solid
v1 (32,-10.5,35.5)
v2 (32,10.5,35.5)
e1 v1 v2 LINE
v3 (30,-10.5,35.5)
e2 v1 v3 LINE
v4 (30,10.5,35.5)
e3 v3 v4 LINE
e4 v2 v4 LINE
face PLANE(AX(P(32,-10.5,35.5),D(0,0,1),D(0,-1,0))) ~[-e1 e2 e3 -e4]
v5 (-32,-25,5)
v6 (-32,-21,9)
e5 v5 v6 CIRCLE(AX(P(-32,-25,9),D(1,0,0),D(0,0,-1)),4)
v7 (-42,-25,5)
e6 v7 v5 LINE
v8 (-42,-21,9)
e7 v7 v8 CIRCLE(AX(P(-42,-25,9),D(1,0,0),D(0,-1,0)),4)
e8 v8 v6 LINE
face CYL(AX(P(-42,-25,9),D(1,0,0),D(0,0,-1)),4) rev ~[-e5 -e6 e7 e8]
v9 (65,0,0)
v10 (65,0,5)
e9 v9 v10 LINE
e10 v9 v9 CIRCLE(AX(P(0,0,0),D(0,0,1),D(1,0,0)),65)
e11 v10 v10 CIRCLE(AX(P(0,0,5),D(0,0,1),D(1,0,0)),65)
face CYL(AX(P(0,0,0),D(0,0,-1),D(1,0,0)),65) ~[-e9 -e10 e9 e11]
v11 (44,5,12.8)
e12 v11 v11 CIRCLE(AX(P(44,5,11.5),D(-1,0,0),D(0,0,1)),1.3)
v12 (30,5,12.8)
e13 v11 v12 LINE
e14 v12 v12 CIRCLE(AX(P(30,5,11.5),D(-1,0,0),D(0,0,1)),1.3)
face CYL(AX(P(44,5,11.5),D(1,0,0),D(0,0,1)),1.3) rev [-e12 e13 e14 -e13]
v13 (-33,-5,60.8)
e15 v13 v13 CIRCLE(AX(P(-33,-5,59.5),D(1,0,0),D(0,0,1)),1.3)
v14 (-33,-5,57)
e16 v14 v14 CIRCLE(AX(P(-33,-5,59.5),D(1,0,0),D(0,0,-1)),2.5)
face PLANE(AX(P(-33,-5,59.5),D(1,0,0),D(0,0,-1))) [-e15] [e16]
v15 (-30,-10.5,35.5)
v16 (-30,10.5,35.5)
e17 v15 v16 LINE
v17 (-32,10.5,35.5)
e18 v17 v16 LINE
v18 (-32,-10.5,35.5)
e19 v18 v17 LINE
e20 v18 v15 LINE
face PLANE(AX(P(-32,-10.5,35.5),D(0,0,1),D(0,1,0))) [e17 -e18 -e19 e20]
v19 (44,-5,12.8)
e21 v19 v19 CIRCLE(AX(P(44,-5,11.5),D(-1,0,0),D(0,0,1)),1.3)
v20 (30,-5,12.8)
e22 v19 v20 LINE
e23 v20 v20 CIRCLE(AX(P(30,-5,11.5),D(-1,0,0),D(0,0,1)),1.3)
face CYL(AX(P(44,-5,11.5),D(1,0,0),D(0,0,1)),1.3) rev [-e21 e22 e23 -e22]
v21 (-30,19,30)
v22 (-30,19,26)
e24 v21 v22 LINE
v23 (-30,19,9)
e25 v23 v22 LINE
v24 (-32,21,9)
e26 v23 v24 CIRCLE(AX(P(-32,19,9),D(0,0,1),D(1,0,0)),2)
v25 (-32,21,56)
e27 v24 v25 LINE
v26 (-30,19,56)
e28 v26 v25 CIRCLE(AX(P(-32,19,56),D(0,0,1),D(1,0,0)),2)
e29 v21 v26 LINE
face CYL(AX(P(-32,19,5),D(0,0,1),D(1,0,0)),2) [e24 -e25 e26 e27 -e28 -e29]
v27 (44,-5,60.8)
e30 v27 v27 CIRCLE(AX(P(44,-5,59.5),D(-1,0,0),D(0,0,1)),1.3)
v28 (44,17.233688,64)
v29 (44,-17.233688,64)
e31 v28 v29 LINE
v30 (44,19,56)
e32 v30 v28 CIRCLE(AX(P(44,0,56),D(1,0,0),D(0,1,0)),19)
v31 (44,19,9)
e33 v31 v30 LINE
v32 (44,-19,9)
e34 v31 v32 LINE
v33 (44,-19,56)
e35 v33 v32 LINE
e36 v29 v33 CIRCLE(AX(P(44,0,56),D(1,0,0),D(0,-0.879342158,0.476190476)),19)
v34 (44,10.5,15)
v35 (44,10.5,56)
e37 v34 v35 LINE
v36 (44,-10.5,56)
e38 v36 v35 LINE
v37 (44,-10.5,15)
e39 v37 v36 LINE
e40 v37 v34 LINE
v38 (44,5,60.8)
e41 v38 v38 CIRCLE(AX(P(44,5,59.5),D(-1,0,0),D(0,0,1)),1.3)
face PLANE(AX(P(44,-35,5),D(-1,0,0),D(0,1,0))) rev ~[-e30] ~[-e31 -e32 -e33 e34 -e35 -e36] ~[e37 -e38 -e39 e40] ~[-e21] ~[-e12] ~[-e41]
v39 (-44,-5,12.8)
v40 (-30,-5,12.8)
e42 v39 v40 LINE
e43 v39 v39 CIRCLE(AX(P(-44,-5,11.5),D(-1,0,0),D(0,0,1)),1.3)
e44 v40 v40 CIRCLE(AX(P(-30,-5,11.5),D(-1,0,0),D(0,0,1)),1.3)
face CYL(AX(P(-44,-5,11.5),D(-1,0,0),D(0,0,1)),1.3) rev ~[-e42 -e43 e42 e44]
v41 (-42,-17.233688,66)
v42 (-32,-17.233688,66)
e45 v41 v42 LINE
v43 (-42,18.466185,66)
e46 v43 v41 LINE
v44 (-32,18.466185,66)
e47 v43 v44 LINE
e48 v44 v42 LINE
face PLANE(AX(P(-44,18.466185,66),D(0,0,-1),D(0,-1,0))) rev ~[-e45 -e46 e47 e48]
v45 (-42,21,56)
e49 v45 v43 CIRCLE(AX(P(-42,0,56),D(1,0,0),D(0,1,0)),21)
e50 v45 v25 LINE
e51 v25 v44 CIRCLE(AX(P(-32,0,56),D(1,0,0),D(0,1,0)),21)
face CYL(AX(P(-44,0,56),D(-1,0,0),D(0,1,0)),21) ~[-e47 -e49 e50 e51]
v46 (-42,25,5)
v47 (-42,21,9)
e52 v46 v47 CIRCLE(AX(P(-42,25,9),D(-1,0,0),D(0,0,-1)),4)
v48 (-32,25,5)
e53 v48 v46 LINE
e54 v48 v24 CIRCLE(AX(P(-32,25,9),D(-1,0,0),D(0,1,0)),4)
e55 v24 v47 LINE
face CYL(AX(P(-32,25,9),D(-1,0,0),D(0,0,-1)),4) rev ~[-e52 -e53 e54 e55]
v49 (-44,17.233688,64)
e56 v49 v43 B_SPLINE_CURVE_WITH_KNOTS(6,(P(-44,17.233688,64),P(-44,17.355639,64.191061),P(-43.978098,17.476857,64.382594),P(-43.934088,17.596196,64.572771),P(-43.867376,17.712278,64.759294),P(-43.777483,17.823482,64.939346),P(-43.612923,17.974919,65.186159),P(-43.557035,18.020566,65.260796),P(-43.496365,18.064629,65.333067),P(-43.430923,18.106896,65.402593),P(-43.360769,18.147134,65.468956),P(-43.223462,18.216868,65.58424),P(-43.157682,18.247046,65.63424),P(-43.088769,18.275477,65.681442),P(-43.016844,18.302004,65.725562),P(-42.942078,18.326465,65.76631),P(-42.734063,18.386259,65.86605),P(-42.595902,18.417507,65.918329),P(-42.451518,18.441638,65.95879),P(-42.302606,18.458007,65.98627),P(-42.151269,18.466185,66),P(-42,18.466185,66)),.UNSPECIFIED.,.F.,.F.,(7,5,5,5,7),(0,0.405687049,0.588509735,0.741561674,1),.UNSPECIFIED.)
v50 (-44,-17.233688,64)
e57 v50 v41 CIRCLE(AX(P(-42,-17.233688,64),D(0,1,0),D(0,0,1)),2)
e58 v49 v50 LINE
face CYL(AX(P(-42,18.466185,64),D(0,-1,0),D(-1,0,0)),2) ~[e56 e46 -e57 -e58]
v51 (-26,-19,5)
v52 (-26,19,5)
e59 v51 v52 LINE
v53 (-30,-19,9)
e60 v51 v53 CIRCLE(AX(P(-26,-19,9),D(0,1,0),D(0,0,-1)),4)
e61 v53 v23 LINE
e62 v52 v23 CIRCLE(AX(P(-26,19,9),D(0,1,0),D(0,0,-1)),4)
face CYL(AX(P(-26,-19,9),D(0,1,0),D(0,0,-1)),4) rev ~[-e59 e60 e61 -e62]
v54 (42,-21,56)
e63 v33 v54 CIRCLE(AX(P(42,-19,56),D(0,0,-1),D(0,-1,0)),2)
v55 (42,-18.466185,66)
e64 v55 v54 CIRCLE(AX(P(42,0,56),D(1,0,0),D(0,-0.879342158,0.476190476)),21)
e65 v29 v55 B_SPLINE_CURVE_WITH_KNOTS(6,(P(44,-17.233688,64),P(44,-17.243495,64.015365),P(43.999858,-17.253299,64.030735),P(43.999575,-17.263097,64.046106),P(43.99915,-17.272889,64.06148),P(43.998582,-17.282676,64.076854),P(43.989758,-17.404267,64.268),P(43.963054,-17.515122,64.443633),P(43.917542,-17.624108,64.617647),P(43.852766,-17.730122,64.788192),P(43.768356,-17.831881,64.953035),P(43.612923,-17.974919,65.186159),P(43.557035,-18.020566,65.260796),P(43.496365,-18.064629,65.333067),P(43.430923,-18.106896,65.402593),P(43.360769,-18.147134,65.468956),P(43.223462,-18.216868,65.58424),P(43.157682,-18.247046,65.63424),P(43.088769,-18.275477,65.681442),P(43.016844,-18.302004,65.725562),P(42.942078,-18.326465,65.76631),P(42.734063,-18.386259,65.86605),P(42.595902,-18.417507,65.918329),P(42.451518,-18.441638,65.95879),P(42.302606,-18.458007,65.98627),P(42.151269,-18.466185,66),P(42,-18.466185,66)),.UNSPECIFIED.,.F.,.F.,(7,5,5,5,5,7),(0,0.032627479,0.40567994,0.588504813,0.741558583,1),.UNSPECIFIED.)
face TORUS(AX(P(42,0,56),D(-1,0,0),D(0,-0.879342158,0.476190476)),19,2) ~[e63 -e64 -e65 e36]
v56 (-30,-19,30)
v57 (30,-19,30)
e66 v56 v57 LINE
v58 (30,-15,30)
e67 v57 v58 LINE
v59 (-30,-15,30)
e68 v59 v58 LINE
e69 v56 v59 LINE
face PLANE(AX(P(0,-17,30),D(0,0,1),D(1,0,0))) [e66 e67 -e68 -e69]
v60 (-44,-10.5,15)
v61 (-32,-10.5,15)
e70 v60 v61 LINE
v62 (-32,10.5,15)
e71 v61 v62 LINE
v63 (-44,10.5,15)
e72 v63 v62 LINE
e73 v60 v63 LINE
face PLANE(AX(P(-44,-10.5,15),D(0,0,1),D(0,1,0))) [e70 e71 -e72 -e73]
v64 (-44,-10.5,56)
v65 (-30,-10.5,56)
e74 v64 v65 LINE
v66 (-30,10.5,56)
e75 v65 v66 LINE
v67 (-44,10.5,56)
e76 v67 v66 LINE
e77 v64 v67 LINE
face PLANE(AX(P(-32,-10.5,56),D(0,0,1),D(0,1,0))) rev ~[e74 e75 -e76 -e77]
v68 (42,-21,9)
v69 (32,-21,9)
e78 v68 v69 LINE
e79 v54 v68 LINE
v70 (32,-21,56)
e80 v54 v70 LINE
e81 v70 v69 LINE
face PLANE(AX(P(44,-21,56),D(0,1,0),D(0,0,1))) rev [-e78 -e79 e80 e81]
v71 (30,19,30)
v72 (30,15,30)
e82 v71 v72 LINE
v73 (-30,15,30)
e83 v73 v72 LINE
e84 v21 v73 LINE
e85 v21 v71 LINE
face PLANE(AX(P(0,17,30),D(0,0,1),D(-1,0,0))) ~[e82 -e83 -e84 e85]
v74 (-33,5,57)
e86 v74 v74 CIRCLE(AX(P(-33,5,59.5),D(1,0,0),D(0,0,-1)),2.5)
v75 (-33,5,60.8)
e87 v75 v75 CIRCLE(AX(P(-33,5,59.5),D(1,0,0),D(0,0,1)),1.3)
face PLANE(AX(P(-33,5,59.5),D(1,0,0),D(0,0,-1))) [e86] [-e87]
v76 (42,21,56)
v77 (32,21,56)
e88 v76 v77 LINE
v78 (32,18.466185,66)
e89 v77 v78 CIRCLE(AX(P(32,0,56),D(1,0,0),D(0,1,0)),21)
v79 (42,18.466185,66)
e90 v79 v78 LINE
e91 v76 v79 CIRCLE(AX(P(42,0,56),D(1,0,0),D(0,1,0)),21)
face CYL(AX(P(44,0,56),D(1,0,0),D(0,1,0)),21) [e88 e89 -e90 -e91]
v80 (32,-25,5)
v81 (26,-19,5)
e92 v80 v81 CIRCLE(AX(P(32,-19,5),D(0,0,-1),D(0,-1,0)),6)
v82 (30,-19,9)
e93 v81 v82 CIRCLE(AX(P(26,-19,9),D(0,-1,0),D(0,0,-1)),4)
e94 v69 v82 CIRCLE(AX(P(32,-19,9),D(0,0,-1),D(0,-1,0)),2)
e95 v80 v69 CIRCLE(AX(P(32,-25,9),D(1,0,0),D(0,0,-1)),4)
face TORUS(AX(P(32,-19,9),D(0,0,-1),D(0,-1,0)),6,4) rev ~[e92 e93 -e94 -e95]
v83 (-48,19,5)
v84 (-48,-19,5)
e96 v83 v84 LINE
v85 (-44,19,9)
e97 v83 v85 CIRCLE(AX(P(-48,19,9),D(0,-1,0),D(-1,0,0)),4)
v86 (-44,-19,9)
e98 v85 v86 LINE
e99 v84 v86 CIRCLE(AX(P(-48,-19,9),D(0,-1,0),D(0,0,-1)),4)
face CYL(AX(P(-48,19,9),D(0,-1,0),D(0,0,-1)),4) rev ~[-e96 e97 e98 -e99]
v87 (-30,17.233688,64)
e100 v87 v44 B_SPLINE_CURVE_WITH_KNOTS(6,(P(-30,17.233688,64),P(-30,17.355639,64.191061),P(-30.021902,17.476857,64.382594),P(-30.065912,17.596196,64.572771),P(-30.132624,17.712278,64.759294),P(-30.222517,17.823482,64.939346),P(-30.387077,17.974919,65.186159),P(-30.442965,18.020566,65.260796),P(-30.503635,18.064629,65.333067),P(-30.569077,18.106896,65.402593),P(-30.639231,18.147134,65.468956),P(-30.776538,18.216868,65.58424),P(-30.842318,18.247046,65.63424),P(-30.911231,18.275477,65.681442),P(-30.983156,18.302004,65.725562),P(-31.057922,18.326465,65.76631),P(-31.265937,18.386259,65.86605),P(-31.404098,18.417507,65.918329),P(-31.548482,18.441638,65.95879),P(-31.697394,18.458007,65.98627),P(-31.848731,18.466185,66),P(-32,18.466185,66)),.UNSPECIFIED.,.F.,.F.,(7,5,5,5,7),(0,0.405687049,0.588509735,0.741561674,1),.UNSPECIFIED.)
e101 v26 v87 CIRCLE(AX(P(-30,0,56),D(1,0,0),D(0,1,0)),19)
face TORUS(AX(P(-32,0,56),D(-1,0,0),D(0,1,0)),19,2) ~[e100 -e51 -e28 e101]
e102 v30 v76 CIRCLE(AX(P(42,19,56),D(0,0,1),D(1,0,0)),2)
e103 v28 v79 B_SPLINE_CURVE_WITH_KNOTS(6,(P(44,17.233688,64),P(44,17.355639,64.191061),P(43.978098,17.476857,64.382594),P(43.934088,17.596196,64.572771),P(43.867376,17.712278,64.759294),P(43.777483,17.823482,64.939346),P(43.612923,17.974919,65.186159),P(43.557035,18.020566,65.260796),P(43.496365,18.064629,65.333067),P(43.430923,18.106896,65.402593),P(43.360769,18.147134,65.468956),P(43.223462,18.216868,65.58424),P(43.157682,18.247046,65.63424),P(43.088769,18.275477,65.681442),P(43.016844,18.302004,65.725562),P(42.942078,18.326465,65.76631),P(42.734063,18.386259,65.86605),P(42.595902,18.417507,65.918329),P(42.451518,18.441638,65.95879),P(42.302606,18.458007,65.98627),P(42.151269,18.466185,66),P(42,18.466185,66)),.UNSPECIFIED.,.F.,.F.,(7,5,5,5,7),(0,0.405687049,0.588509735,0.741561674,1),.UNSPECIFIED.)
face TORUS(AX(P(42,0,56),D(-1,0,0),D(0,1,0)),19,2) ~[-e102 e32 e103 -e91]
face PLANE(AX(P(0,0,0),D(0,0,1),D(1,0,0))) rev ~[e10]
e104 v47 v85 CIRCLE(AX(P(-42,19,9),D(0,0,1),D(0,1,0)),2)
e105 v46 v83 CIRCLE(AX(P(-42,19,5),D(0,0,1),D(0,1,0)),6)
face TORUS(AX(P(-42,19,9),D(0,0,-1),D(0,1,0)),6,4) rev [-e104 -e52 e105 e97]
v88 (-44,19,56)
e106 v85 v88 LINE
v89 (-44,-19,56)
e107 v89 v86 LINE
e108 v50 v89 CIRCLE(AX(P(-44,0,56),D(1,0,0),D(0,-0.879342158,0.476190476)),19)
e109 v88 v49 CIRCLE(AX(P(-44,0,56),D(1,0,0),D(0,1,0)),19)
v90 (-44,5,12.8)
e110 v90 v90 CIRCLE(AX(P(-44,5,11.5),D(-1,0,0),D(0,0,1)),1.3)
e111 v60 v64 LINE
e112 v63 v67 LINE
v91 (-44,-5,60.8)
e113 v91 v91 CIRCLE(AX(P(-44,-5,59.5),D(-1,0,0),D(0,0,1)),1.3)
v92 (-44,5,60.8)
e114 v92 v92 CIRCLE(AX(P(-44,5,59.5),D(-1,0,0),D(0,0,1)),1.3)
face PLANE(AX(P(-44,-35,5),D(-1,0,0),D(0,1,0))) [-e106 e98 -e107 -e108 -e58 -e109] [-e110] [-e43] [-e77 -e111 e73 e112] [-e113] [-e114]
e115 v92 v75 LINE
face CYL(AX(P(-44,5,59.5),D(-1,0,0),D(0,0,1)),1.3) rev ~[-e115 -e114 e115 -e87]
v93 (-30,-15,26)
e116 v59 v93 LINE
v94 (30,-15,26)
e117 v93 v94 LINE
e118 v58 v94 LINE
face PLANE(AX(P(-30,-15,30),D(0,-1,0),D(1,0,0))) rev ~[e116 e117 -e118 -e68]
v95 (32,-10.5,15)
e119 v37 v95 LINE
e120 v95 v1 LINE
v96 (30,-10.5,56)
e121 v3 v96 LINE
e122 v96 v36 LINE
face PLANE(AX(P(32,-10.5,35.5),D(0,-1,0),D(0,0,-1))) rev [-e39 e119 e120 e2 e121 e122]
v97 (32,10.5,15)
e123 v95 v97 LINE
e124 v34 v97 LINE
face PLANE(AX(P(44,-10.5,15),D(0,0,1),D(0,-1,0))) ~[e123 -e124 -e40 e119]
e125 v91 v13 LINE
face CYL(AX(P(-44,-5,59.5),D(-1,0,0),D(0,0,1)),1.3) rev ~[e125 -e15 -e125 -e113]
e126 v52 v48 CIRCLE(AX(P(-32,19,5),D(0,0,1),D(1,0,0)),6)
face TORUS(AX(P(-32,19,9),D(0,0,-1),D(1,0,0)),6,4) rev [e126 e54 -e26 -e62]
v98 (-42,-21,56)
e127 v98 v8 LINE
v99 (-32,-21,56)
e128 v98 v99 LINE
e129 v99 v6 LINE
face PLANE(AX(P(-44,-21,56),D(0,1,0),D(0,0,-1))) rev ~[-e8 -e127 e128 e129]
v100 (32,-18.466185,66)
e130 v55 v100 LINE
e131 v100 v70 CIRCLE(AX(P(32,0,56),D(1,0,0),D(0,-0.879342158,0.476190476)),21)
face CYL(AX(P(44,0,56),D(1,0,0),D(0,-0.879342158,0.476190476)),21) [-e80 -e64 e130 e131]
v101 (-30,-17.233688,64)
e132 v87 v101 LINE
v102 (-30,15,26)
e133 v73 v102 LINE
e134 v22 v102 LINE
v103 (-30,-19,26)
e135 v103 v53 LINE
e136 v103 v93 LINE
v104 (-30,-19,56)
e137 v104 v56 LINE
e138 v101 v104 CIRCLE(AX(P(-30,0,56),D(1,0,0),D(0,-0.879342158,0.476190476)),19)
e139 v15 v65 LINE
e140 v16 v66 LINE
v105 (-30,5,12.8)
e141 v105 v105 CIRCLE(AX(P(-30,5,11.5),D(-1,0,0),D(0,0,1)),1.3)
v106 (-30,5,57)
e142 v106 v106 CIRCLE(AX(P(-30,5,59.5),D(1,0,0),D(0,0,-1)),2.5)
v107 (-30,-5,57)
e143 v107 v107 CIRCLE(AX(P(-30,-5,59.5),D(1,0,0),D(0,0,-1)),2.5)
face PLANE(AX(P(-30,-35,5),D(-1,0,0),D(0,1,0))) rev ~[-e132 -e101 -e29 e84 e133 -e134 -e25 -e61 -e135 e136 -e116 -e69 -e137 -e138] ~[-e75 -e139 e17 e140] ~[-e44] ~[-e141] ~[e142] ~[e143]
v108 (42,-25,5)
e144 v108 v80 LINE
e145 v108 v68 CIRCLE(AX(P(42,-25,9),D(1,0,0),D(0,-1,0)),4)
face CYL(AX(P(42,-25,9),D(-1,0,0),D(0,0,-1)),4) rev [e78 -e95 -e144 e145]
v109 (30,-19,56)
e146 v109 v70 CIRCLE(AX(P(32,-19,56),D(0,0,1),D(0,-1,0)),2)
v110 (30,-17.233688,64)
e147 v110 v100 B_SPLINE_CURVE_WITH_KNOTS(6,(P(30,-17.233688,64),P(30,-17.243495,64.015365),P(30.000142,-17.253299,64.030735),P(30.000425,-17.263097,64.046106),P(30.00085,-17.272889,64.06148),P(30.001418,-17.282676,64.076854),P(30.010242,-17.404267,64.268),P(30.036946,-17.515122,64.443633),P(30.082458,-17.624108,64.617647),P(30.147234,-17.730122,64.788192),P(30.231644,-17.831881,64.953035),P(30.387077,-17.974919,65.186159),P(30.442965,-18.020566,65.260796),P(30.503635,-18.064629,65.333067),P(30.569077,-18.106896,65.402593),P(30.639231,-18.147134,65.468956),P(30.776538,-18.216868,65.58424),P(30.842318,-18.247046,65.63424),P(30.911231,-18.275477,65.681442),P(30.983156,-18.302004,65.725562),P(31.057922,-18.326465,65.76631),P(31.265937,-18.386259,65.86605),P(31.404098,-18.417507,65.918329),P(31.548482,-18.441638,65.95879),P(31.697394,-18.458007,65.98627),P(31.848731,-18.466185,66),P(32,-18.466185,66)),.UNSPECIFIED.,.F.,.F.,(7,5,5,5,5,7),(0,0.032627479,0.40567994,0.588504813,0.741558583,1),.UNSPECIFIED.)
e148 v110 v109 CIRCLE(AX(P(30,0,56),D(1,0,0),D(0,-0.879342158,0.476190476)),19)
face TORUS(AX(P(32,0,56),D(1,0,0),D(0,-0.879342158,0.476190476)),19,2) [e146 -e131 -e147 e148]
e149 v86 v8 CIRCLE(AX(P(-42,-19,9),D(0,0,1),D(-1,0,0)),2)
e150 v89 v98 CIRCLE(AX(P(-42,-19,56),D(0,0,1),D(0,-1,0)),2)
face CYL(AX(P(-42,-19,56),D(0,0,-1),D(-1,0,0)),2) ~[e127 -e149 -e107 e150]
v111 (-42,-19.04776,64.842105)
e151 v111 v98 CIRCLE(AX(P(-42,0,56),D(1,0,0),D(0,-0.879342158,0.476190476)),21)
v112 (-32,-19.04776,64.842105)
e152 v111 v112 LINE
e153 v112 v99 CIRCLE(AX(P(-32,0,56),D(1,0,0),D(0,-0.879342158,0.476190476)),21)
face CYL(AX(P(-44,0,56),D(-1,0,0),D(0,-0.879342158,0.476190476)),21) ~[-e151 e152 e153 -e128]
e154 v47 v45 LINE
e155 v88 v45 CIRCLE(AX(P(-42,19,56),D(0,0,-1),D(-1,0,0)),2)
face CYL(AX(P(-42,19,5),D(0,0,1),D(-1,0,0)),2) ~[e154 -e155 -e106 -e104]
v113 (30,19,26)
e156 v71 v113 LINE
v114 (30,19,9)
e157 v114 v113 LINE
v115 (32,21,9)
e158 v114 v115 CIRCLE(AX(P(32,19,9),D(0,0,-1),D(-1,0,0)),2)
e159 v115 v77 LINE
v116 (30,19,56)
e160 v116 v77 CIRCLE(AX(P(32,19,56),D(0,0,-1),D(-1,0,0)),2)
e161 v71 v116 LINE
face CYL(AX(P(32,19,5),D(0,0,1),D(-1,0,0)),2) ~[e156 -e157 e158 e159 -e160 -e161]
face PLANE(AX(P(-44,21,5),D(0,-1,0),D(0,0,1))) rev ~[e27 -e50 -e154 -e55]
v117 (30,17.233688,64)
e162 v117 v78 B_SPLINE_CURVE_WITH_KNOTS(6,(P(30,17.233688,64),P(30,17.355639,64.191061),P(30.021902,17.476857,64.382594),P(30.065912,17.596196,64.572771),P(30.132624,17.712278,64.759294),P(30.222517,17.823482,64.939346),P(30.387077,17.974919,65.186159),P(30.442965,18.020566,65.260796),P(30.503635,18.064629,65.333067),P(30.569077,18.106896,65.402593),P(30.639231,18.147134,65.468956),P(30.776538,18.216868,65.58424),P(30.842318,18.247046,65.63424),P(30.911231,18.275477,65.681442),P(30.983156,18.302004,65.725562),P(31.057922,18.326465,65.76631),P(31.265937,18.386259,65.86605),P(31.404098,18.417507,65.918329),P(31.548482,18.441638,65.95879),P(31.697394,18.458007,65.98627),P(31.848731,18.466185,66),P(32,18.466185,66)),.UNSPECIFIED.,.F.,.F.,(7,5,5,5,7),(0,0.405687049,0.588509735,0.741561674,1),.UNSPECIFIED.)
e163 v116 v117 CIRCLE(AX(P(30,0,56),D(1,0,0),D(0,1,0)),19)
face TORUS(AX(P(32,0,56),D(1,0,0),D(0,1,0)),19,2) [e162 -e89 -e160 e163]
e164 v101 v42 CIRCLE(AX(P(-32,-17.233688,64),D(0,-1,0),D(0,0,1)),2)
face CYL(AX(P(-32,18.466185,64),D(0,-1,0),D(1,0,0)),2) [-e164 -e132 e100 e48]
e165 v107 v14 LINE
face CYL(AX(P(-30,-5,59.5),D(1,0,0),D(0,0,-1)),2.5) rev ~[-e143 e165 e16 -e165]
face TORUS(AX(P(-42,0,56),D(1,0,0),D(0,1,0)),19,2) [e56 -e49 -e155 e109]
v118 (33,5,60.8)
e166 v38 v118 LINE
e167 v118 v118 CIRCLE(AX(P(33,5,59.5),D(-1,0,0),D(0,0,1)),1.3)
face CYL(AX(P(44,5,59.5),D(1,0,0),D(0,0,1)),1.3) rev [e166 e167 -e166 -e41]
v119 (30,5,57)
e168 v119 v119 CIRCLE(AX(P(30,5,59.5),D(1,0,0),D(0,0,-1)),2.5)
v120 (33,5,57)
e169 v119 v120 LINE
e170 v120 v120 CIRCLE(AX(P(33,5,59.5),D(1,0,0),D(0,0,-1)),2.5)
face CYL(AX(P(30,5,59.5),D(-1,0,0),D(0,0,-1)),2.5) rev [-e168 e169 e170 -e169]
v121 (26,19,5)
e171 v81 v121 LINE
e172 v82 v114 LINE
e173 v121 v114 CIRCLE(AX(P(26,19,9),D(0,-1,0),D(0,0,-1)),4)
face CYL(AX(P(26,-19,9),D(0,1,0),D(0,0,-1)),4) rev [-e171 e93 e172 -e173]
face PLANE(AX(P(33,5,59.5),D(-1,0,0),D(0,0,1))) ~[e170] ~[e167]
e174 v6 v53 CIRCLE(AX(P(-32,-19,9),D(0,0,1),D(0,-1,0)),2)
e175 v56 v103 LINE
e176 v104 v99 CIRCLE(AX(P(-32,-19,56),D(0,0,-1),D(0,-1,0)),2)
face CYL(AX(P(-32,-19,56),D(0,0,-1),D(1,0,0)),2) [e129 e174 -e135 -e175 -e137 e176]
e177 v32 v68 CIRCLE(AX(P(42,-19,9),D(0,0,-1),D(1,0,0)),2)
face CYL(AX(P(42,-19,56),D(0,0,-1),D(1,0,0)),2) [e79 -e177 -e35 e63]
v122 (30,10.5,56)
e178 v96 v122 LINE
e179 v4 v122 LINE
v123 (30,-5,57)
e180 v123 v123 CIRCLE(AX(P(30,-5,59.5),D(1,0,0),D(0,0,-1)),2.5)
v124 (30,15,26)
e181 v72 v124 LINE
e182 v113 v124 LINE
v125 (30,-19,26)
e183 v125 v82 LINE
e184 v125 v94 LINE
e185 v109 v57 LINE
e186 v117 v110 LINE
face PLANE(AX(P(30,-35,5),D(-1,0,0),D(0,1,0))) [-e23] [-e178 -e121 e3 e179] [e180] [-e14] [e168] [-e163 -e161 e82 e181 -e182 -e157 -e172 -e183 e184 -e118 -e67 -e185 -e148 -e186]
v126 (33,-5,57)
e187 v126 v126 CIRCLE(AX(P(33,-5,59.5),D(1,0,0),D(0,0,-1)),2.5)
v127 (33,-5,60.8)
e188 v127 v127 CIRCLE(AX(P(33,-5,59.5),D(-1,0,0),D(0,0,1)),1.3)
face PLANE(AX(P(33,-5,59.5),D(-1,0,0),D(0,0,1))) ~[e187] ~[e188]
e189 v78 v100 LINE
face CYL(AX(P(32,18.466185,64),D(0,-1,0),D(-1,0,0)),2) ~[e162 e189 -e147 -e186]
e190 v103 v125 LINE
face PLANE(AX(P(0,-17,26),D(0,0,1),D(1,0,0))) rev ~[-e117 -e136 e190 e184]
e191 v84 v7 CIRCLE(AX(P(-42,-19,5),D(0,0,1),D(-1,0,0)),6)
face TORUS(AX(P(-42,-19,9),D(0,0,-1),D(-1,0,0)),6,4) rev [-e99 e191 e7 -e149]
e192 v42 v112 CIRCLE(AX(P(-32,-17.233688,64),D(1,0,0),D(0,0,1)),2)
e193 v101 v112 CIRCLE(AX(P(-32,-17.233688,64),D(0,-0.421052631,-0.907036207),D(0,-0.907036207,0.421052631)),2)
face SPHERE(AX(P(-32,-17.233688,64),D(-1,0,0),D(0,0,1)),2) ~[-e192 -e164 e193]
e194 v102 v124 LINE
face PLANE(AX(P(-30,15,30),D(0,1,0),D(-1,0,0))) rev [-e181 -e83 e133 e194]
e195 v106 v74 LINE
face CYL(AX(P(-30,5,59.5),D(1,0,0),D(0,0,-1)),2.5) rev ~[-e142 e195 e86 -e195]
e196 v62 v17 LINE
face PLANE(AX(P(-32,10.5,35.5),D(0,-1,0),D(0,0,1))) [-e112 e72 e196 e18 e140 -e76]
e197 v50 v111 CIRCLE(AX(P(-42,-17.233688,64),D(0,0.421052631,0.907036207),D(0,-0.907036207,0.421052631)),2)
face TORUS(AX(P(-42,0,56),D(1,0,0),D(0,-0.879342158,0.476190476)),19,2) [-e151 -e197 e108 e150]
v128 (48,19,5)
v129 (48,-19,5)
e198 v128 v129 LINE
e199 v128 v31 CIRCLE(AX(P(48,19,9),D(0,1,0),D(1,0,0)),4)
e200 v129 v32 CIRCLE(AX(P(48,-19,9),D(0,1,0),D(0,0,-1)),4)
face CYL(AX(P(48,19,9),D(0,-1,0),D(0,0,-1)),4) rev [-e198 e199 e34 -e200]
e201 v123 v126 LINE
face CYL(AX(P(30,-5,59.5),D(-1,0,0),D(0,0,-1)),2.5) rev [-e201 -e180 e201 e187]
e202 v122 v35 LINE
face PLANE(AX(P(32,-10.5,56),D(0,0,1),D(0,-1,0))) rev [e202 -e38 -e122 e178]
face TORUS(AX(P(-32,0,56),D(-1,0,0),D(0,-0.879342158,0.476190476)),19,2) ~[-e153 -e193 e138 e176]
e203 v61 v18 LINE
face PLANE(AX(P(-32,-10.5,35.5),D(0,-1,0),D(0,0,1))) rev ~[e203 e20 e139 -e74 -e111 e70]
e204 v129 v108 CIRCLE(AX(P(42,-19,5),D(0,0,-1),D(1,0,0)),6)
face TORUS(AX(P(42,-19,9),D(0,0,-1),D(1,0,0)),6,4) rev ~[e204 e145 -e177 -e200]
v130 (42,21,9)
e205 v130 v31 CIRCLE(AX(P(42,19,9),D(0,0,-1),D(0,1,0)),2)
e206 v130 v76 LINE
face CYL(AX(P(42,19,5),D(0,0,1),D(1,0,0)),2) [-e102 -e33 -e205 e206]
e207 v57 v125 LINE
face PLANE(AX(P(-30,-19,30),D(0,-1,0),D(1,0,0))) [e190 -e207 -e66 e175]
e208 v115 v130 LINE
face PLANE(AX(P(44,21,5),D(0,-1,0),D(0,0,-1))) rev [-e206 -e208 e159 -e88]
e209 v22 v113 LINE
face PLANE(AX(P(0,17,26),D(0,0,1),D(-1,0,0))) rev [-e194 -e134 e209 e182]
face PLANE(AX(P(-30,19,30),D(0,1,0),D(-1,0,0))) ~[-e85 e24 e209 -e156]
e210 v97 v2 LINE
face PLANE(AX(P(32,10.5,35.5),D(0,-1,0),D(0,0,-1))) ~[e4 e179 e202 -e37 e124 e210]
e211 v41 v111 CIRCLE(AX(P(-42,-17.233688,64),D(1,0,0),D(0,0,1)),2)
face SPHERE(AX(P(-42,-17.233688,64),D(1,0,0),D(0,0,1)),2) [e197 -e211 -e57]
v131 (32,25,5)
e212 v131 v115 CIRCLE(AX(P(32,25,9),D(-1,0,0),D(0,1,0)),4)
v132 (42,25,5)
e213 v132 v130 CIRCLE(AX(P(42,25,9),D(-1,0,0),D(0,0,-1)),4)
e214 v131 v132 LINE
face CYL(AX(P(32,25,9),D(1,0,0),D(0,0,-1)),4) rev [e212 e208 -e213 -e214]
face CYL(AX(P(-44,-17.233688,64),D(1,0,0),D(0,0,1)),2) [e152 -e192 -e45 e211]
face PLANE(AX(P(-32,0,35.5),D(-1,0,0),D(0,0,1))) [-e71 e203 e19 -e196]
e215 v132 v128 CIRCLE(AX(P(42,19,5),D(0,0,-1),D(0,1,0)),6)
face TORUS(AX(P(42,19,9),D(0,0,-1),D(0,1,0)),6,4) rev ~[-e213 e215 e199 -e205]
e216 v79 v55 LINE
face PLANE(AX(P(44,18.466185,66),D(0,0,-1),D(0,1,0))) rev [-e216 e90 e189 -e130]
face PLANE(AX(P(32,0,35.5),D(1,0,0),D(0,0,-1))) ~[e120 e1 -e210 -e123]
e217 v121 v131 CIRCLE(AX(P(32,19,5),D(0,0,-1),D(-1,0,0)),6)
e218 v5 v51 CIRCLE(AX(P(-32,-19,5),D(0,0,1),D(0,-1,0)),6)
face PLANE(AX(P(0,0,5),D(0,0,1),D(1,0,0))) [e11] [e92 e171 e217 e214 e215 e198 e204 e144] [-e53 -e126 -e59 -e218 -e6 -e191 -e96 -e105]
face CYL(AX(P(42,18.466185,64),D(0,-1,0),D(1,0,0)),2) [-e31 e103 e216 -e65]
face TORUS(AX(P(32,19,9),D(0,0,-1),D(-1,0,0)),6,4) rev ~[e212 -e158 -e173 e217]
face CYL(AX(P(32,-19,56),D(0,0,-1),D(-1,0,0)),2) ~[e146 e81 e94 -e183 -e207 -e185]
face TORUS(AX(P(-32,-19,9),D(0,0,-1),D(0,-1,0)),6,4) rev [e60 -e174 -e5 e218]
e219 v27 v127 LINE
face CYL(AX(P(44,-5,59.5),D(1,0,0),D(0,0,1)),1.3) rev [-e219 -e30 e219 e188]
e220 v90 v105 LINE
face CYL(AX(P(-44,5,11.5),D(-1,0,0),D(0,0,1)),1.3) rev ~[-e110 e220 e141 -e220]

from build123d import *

# Parameters (mm, degrees)
SKETCH1_R           = 65
BOSS_EXTRUDE1_DEPTH = 5
SKETCH2_W           = 14
SKETCH2_H           = 70
BOSS_EXTRUDE2_DEPTH = 70
SKETCH4_W           = 41
SKETCH4_H           = 21
CUT_EXTRUDE1_DEPTH  = 12
CUT_EXTRUDE2_DEPTH  = 14
FILLET1_R           = 2
FILLET2_R           = 4
FILLET3_R           = 2
FILLET4_R           = 4
SKETCH7_R           = 1.3
CUT_EXTRUDE3_DEPTH  = 14
SKETCH8_W           = 20.5
SKETCH8_H           = 21
CUT_EXTRUDE4_DEPTH  = 2
SKETCH9_W           = 60
SKETCH9_H           = 4
BOSS_EXTRUDE3_DEPTH = 4
SKETCH10_R          = 2.5
SKETCH10_R_2        = 1.3
CUT_EXTRUDE5_DEPTH  = 3


with BuildPart() as part:
    # Sketch1 → Boss-Extrude1 (new body)
    with BuildSketch(Plane.XY):
        Circle(SKETCH1_R)
    extrude(amount=BOSS_EXTRUDE1_DEPTH)

    # Sketch2 → Boss-Extrude2 (add)
    with BuildSketch(Plane.XY.offset(5)):
        with Locations((-37, 0)):
            Rectangle(SKETCH2_W, SKETCH2_H)
        with Locations((37, 0)):
            Rectangle(SKETCH2_W, SKETCH2_H)
    extrude(amount=BOSS_EXTRUDE2_DEPTH)

    # Sketch4 → Cut-Extrude1 (cut)
    with BuildSketch(Plane.ZY.offset(44)):
        with Locations((35.5, 0)):
            Rectangle(SKETCH4_W, SKETCH4_H)
    cut_extrude1 = extrude(amount=-CUT_EXTRUDE1_DEPTH, mode=Mode.SUBTRACT)

    # Sketch5 → Cut-Extrude2 (cut)
    with BuildSketch(Plane.ZY.offset(44)):
        with BuildLine():
            Line((56, -21), (5, -21))
            Line((5, -21), (5, -35))
            Line((5, -35), (75, -35))
            Line((75, -35), (75, -8.94427191))
            ThreePointArc((75, -8.94427191), (71.261608982, -14.425092419), (66, -18.466185313))
            ThreePointArc((66, -18.466185313), (61.158008745, -20.356692899), (56, -21))
        make_face()
        with BuildLine():
            Line((5, 35), (5, 21))
            Line((5, 21), (56, 21))
            ThreePointArc((56, 21), (61.158008745, 20.356692899), (66, 18.466185313))
            ThreePointArc((66, 18.466185313), (71.261608982, 14.425092419), (75, 8.94427191))
            Line((75, 8.94427191), (75, 35))
            Line((75, 35), (5, 35))
        make_face()
        with BuildLine():
            ThreePointArc((75, 8.94427191), (71.261608982, 14.425092419), (66, 18.466185313))
            Line((66, 18.466185313), (66, -18.466185313))
            ThreePointArc((66, -18.466185313), (71.261608982, -14.425092419), (75, -8.94427191))
            Line((75, -8.94427191), (75, 8.94427191))
        make_face()
    cut_extrude2 = extrude(amount=-CUT_EXTRUDE2_DEPTH, mode=Mode.SUBTRACT)

    # Fillet1
    fillet1_edges = [part.edges().sort_by_distance(p)[0] for p in [
        (-30, -20.356692899, 61.158008745),
        (-44, -20.356692899, 61.158008745),
        (-37, -18.466185313, 66),
        (-30, 20.356692899, 61.158008745),
        (-44, 20.356692899, 61.158008745),
        (-30, -21, 30.5),
        (-44, -21, 30.5),
        (-44, 21, 30.5),
        (-44, 0, 66),
        (-30, 21, 30.5),
        (-30, 0, 66),
    ]]
    fillet(fillet1_edges, radius=FILLET1_R)

    # Fillet2
    fillet2_edges = [part.edges().sort_by_distance(p)[0] for p in [
        (-30, 0, 5),
        (-44, 0, 5),
        (-37, 21, 5),
        (-37, -21, 5),
        (-43.414213562, 20.414213562, 5),
        (-30.585786438, 20.414213562, 5),
        (-30.585786438, -20.414213562, 5),
        (-43.414213562, -20.414213562, 5),
    ]]
    fillet(fillet2_edges, radius=FILLET2_R)

    # Mirror2: Cut-Extrude1 across plane
    add(cut_extrude1.mirror(Plane(origin=(0, 0, 0), x_dir=(0, 0, 1), z_dir=(1, 0, 0))), mode=Mode.SUBTRACT)

    # Mirror3: Cut-Extrude2 across plane
    add(cut_extrude2.mirror(Plane(origin=(0, 0, 0), x_dir=(0, 0, 1), z_dir=(1, 0, 0))), mode=Mode.SUBTRACT)

    # Fillet3
    fillet3_edges = [part.edges().sort_by_distance(p)[0] for p in [
        (44, -20.356692899, 61.158008745),
        (44, 20.356692899, 61.158008745),
        (44, -21, 30.5),
        (30, 0, 66),
        (44, 0, 66),
        (30, 21, 30.5),
        (44, 21, 30.5),
        (30, -20.356692899, 61.158008745),
        (30, -21, 30.5),
        (30, 20.356692899, 61.158008745),
    ]]
    fillet(fillet3_edges, radius=FILLET3_R)

    # Fillet4
    fillet4_edges = [part.edges().sort_by_distance(p)[0] for p in [
        (30, 0, 5),
        (44, 0, 5),
        (37, 21, 5),
        (37, -21, 5),
        (30.585786438, 20.414213562, 5),
        (30.585786438, -20.414213562, 5),
        (43.414213562, 20.414213562, 5),
        (43.414213562, -20.414213562, 5),
    ]]
    fillet(fillet4_edges, radius=FILLET4_R)

    # Sketch7 → Cut-Extrude3 (cut)
    with BuildSketch(Plane.ZY.offset(44)):
        with Locations((59.5, 5)):
            Circle(SKETCH7_R)
        with Locations((59.5, -5)):
            Circle(SKETCH7_R)
        with Locations((11.5, -5)):
            Circle(SKETCH7_R)
        with Locations((11.5, 5)):
            Circle(SKETCH7_R)
    cut_extrude3 = extrude(amount=-CUT_EXTRUDE3_DEPTH, mode=Mode.SUBTRACT)

    # Mirror6: Cut-Extrude3 across plane
    add(cut_extrude3.mirror(Plane(origin=(0, 0, 0), x_dir=(0, 0, 1), z_dir=(1, 0, 0))), mode=Mode.SUBTRACT)

    # Sketch8 → Cut-Extrude4 (cut)
    with BuildSketch(Plane.ZY.offset(32)):
        with Locations((45.75, 0)):
            Rectangle(SKETCH8_W, SKETCH8_H)
    cut_extrude4 = extrude(amount=-CUT_EXTRUDE4_DEPTH, mode=Mode.SUBTRACT)

    # Mirror7: Cut-Extrude4 across plane
    add(cut_extrude4.mirror(Plane(origin=(0, 0, 0), x_dir=(0, 0, 1), z_dir=(1, 0, 0))), mode=Mode.SUBTRACT)

    # Sketch9 → Boss-Extrude3 (add)
    with BuildSketch(Plane.XY.offset(30)):
        with Locations((0, -17)):
            Rectangle(SKETCH9_W, SKETCH9_H)
    boss_extrude3 = extrude(amount=-BOSS_EXTRUDE3_DEPTH)

    # Mirror8: Boss-Extrude3 across plane
    add(boss_extrude3.mirror(Plane.ZX))

    # Sketch10 → Cut-Extrude5 (cut)
    with BuildSketch(Plane(origin=(-30, 0, 0), x_dir=(0, 0, -1), z_dir=(1, 0, 0))):
        with Locations((-59.5, 5)):
            Circle(SKETCH10_R)
        with Locations((-59.5, 5)):
            Circle(SKETCH10_R_2, mode=Mode.SUBTRACT)
        with Locations((-59.5, -5)):
            Circle(SKETCH10_R)
        with Locations((-59.5, -5)):
            Circle(SKETCH10_R_2, mode=Mode.SUBTRACT)
    cut_extrude5 = extrude(amount=-CUT_EXTRUDE5_DEPTH, mode=Mode.SUBTRACT)

    # Mirror9: Cut-Extrude5 across plane
    add(cut_extrude5.mirror(Plane(origin=(0, 0, 0), x_dir=(0, 0, 1), z_dir=(1, 0, 0))), mode=Mode.SUBTRACT)


solid = part.part
